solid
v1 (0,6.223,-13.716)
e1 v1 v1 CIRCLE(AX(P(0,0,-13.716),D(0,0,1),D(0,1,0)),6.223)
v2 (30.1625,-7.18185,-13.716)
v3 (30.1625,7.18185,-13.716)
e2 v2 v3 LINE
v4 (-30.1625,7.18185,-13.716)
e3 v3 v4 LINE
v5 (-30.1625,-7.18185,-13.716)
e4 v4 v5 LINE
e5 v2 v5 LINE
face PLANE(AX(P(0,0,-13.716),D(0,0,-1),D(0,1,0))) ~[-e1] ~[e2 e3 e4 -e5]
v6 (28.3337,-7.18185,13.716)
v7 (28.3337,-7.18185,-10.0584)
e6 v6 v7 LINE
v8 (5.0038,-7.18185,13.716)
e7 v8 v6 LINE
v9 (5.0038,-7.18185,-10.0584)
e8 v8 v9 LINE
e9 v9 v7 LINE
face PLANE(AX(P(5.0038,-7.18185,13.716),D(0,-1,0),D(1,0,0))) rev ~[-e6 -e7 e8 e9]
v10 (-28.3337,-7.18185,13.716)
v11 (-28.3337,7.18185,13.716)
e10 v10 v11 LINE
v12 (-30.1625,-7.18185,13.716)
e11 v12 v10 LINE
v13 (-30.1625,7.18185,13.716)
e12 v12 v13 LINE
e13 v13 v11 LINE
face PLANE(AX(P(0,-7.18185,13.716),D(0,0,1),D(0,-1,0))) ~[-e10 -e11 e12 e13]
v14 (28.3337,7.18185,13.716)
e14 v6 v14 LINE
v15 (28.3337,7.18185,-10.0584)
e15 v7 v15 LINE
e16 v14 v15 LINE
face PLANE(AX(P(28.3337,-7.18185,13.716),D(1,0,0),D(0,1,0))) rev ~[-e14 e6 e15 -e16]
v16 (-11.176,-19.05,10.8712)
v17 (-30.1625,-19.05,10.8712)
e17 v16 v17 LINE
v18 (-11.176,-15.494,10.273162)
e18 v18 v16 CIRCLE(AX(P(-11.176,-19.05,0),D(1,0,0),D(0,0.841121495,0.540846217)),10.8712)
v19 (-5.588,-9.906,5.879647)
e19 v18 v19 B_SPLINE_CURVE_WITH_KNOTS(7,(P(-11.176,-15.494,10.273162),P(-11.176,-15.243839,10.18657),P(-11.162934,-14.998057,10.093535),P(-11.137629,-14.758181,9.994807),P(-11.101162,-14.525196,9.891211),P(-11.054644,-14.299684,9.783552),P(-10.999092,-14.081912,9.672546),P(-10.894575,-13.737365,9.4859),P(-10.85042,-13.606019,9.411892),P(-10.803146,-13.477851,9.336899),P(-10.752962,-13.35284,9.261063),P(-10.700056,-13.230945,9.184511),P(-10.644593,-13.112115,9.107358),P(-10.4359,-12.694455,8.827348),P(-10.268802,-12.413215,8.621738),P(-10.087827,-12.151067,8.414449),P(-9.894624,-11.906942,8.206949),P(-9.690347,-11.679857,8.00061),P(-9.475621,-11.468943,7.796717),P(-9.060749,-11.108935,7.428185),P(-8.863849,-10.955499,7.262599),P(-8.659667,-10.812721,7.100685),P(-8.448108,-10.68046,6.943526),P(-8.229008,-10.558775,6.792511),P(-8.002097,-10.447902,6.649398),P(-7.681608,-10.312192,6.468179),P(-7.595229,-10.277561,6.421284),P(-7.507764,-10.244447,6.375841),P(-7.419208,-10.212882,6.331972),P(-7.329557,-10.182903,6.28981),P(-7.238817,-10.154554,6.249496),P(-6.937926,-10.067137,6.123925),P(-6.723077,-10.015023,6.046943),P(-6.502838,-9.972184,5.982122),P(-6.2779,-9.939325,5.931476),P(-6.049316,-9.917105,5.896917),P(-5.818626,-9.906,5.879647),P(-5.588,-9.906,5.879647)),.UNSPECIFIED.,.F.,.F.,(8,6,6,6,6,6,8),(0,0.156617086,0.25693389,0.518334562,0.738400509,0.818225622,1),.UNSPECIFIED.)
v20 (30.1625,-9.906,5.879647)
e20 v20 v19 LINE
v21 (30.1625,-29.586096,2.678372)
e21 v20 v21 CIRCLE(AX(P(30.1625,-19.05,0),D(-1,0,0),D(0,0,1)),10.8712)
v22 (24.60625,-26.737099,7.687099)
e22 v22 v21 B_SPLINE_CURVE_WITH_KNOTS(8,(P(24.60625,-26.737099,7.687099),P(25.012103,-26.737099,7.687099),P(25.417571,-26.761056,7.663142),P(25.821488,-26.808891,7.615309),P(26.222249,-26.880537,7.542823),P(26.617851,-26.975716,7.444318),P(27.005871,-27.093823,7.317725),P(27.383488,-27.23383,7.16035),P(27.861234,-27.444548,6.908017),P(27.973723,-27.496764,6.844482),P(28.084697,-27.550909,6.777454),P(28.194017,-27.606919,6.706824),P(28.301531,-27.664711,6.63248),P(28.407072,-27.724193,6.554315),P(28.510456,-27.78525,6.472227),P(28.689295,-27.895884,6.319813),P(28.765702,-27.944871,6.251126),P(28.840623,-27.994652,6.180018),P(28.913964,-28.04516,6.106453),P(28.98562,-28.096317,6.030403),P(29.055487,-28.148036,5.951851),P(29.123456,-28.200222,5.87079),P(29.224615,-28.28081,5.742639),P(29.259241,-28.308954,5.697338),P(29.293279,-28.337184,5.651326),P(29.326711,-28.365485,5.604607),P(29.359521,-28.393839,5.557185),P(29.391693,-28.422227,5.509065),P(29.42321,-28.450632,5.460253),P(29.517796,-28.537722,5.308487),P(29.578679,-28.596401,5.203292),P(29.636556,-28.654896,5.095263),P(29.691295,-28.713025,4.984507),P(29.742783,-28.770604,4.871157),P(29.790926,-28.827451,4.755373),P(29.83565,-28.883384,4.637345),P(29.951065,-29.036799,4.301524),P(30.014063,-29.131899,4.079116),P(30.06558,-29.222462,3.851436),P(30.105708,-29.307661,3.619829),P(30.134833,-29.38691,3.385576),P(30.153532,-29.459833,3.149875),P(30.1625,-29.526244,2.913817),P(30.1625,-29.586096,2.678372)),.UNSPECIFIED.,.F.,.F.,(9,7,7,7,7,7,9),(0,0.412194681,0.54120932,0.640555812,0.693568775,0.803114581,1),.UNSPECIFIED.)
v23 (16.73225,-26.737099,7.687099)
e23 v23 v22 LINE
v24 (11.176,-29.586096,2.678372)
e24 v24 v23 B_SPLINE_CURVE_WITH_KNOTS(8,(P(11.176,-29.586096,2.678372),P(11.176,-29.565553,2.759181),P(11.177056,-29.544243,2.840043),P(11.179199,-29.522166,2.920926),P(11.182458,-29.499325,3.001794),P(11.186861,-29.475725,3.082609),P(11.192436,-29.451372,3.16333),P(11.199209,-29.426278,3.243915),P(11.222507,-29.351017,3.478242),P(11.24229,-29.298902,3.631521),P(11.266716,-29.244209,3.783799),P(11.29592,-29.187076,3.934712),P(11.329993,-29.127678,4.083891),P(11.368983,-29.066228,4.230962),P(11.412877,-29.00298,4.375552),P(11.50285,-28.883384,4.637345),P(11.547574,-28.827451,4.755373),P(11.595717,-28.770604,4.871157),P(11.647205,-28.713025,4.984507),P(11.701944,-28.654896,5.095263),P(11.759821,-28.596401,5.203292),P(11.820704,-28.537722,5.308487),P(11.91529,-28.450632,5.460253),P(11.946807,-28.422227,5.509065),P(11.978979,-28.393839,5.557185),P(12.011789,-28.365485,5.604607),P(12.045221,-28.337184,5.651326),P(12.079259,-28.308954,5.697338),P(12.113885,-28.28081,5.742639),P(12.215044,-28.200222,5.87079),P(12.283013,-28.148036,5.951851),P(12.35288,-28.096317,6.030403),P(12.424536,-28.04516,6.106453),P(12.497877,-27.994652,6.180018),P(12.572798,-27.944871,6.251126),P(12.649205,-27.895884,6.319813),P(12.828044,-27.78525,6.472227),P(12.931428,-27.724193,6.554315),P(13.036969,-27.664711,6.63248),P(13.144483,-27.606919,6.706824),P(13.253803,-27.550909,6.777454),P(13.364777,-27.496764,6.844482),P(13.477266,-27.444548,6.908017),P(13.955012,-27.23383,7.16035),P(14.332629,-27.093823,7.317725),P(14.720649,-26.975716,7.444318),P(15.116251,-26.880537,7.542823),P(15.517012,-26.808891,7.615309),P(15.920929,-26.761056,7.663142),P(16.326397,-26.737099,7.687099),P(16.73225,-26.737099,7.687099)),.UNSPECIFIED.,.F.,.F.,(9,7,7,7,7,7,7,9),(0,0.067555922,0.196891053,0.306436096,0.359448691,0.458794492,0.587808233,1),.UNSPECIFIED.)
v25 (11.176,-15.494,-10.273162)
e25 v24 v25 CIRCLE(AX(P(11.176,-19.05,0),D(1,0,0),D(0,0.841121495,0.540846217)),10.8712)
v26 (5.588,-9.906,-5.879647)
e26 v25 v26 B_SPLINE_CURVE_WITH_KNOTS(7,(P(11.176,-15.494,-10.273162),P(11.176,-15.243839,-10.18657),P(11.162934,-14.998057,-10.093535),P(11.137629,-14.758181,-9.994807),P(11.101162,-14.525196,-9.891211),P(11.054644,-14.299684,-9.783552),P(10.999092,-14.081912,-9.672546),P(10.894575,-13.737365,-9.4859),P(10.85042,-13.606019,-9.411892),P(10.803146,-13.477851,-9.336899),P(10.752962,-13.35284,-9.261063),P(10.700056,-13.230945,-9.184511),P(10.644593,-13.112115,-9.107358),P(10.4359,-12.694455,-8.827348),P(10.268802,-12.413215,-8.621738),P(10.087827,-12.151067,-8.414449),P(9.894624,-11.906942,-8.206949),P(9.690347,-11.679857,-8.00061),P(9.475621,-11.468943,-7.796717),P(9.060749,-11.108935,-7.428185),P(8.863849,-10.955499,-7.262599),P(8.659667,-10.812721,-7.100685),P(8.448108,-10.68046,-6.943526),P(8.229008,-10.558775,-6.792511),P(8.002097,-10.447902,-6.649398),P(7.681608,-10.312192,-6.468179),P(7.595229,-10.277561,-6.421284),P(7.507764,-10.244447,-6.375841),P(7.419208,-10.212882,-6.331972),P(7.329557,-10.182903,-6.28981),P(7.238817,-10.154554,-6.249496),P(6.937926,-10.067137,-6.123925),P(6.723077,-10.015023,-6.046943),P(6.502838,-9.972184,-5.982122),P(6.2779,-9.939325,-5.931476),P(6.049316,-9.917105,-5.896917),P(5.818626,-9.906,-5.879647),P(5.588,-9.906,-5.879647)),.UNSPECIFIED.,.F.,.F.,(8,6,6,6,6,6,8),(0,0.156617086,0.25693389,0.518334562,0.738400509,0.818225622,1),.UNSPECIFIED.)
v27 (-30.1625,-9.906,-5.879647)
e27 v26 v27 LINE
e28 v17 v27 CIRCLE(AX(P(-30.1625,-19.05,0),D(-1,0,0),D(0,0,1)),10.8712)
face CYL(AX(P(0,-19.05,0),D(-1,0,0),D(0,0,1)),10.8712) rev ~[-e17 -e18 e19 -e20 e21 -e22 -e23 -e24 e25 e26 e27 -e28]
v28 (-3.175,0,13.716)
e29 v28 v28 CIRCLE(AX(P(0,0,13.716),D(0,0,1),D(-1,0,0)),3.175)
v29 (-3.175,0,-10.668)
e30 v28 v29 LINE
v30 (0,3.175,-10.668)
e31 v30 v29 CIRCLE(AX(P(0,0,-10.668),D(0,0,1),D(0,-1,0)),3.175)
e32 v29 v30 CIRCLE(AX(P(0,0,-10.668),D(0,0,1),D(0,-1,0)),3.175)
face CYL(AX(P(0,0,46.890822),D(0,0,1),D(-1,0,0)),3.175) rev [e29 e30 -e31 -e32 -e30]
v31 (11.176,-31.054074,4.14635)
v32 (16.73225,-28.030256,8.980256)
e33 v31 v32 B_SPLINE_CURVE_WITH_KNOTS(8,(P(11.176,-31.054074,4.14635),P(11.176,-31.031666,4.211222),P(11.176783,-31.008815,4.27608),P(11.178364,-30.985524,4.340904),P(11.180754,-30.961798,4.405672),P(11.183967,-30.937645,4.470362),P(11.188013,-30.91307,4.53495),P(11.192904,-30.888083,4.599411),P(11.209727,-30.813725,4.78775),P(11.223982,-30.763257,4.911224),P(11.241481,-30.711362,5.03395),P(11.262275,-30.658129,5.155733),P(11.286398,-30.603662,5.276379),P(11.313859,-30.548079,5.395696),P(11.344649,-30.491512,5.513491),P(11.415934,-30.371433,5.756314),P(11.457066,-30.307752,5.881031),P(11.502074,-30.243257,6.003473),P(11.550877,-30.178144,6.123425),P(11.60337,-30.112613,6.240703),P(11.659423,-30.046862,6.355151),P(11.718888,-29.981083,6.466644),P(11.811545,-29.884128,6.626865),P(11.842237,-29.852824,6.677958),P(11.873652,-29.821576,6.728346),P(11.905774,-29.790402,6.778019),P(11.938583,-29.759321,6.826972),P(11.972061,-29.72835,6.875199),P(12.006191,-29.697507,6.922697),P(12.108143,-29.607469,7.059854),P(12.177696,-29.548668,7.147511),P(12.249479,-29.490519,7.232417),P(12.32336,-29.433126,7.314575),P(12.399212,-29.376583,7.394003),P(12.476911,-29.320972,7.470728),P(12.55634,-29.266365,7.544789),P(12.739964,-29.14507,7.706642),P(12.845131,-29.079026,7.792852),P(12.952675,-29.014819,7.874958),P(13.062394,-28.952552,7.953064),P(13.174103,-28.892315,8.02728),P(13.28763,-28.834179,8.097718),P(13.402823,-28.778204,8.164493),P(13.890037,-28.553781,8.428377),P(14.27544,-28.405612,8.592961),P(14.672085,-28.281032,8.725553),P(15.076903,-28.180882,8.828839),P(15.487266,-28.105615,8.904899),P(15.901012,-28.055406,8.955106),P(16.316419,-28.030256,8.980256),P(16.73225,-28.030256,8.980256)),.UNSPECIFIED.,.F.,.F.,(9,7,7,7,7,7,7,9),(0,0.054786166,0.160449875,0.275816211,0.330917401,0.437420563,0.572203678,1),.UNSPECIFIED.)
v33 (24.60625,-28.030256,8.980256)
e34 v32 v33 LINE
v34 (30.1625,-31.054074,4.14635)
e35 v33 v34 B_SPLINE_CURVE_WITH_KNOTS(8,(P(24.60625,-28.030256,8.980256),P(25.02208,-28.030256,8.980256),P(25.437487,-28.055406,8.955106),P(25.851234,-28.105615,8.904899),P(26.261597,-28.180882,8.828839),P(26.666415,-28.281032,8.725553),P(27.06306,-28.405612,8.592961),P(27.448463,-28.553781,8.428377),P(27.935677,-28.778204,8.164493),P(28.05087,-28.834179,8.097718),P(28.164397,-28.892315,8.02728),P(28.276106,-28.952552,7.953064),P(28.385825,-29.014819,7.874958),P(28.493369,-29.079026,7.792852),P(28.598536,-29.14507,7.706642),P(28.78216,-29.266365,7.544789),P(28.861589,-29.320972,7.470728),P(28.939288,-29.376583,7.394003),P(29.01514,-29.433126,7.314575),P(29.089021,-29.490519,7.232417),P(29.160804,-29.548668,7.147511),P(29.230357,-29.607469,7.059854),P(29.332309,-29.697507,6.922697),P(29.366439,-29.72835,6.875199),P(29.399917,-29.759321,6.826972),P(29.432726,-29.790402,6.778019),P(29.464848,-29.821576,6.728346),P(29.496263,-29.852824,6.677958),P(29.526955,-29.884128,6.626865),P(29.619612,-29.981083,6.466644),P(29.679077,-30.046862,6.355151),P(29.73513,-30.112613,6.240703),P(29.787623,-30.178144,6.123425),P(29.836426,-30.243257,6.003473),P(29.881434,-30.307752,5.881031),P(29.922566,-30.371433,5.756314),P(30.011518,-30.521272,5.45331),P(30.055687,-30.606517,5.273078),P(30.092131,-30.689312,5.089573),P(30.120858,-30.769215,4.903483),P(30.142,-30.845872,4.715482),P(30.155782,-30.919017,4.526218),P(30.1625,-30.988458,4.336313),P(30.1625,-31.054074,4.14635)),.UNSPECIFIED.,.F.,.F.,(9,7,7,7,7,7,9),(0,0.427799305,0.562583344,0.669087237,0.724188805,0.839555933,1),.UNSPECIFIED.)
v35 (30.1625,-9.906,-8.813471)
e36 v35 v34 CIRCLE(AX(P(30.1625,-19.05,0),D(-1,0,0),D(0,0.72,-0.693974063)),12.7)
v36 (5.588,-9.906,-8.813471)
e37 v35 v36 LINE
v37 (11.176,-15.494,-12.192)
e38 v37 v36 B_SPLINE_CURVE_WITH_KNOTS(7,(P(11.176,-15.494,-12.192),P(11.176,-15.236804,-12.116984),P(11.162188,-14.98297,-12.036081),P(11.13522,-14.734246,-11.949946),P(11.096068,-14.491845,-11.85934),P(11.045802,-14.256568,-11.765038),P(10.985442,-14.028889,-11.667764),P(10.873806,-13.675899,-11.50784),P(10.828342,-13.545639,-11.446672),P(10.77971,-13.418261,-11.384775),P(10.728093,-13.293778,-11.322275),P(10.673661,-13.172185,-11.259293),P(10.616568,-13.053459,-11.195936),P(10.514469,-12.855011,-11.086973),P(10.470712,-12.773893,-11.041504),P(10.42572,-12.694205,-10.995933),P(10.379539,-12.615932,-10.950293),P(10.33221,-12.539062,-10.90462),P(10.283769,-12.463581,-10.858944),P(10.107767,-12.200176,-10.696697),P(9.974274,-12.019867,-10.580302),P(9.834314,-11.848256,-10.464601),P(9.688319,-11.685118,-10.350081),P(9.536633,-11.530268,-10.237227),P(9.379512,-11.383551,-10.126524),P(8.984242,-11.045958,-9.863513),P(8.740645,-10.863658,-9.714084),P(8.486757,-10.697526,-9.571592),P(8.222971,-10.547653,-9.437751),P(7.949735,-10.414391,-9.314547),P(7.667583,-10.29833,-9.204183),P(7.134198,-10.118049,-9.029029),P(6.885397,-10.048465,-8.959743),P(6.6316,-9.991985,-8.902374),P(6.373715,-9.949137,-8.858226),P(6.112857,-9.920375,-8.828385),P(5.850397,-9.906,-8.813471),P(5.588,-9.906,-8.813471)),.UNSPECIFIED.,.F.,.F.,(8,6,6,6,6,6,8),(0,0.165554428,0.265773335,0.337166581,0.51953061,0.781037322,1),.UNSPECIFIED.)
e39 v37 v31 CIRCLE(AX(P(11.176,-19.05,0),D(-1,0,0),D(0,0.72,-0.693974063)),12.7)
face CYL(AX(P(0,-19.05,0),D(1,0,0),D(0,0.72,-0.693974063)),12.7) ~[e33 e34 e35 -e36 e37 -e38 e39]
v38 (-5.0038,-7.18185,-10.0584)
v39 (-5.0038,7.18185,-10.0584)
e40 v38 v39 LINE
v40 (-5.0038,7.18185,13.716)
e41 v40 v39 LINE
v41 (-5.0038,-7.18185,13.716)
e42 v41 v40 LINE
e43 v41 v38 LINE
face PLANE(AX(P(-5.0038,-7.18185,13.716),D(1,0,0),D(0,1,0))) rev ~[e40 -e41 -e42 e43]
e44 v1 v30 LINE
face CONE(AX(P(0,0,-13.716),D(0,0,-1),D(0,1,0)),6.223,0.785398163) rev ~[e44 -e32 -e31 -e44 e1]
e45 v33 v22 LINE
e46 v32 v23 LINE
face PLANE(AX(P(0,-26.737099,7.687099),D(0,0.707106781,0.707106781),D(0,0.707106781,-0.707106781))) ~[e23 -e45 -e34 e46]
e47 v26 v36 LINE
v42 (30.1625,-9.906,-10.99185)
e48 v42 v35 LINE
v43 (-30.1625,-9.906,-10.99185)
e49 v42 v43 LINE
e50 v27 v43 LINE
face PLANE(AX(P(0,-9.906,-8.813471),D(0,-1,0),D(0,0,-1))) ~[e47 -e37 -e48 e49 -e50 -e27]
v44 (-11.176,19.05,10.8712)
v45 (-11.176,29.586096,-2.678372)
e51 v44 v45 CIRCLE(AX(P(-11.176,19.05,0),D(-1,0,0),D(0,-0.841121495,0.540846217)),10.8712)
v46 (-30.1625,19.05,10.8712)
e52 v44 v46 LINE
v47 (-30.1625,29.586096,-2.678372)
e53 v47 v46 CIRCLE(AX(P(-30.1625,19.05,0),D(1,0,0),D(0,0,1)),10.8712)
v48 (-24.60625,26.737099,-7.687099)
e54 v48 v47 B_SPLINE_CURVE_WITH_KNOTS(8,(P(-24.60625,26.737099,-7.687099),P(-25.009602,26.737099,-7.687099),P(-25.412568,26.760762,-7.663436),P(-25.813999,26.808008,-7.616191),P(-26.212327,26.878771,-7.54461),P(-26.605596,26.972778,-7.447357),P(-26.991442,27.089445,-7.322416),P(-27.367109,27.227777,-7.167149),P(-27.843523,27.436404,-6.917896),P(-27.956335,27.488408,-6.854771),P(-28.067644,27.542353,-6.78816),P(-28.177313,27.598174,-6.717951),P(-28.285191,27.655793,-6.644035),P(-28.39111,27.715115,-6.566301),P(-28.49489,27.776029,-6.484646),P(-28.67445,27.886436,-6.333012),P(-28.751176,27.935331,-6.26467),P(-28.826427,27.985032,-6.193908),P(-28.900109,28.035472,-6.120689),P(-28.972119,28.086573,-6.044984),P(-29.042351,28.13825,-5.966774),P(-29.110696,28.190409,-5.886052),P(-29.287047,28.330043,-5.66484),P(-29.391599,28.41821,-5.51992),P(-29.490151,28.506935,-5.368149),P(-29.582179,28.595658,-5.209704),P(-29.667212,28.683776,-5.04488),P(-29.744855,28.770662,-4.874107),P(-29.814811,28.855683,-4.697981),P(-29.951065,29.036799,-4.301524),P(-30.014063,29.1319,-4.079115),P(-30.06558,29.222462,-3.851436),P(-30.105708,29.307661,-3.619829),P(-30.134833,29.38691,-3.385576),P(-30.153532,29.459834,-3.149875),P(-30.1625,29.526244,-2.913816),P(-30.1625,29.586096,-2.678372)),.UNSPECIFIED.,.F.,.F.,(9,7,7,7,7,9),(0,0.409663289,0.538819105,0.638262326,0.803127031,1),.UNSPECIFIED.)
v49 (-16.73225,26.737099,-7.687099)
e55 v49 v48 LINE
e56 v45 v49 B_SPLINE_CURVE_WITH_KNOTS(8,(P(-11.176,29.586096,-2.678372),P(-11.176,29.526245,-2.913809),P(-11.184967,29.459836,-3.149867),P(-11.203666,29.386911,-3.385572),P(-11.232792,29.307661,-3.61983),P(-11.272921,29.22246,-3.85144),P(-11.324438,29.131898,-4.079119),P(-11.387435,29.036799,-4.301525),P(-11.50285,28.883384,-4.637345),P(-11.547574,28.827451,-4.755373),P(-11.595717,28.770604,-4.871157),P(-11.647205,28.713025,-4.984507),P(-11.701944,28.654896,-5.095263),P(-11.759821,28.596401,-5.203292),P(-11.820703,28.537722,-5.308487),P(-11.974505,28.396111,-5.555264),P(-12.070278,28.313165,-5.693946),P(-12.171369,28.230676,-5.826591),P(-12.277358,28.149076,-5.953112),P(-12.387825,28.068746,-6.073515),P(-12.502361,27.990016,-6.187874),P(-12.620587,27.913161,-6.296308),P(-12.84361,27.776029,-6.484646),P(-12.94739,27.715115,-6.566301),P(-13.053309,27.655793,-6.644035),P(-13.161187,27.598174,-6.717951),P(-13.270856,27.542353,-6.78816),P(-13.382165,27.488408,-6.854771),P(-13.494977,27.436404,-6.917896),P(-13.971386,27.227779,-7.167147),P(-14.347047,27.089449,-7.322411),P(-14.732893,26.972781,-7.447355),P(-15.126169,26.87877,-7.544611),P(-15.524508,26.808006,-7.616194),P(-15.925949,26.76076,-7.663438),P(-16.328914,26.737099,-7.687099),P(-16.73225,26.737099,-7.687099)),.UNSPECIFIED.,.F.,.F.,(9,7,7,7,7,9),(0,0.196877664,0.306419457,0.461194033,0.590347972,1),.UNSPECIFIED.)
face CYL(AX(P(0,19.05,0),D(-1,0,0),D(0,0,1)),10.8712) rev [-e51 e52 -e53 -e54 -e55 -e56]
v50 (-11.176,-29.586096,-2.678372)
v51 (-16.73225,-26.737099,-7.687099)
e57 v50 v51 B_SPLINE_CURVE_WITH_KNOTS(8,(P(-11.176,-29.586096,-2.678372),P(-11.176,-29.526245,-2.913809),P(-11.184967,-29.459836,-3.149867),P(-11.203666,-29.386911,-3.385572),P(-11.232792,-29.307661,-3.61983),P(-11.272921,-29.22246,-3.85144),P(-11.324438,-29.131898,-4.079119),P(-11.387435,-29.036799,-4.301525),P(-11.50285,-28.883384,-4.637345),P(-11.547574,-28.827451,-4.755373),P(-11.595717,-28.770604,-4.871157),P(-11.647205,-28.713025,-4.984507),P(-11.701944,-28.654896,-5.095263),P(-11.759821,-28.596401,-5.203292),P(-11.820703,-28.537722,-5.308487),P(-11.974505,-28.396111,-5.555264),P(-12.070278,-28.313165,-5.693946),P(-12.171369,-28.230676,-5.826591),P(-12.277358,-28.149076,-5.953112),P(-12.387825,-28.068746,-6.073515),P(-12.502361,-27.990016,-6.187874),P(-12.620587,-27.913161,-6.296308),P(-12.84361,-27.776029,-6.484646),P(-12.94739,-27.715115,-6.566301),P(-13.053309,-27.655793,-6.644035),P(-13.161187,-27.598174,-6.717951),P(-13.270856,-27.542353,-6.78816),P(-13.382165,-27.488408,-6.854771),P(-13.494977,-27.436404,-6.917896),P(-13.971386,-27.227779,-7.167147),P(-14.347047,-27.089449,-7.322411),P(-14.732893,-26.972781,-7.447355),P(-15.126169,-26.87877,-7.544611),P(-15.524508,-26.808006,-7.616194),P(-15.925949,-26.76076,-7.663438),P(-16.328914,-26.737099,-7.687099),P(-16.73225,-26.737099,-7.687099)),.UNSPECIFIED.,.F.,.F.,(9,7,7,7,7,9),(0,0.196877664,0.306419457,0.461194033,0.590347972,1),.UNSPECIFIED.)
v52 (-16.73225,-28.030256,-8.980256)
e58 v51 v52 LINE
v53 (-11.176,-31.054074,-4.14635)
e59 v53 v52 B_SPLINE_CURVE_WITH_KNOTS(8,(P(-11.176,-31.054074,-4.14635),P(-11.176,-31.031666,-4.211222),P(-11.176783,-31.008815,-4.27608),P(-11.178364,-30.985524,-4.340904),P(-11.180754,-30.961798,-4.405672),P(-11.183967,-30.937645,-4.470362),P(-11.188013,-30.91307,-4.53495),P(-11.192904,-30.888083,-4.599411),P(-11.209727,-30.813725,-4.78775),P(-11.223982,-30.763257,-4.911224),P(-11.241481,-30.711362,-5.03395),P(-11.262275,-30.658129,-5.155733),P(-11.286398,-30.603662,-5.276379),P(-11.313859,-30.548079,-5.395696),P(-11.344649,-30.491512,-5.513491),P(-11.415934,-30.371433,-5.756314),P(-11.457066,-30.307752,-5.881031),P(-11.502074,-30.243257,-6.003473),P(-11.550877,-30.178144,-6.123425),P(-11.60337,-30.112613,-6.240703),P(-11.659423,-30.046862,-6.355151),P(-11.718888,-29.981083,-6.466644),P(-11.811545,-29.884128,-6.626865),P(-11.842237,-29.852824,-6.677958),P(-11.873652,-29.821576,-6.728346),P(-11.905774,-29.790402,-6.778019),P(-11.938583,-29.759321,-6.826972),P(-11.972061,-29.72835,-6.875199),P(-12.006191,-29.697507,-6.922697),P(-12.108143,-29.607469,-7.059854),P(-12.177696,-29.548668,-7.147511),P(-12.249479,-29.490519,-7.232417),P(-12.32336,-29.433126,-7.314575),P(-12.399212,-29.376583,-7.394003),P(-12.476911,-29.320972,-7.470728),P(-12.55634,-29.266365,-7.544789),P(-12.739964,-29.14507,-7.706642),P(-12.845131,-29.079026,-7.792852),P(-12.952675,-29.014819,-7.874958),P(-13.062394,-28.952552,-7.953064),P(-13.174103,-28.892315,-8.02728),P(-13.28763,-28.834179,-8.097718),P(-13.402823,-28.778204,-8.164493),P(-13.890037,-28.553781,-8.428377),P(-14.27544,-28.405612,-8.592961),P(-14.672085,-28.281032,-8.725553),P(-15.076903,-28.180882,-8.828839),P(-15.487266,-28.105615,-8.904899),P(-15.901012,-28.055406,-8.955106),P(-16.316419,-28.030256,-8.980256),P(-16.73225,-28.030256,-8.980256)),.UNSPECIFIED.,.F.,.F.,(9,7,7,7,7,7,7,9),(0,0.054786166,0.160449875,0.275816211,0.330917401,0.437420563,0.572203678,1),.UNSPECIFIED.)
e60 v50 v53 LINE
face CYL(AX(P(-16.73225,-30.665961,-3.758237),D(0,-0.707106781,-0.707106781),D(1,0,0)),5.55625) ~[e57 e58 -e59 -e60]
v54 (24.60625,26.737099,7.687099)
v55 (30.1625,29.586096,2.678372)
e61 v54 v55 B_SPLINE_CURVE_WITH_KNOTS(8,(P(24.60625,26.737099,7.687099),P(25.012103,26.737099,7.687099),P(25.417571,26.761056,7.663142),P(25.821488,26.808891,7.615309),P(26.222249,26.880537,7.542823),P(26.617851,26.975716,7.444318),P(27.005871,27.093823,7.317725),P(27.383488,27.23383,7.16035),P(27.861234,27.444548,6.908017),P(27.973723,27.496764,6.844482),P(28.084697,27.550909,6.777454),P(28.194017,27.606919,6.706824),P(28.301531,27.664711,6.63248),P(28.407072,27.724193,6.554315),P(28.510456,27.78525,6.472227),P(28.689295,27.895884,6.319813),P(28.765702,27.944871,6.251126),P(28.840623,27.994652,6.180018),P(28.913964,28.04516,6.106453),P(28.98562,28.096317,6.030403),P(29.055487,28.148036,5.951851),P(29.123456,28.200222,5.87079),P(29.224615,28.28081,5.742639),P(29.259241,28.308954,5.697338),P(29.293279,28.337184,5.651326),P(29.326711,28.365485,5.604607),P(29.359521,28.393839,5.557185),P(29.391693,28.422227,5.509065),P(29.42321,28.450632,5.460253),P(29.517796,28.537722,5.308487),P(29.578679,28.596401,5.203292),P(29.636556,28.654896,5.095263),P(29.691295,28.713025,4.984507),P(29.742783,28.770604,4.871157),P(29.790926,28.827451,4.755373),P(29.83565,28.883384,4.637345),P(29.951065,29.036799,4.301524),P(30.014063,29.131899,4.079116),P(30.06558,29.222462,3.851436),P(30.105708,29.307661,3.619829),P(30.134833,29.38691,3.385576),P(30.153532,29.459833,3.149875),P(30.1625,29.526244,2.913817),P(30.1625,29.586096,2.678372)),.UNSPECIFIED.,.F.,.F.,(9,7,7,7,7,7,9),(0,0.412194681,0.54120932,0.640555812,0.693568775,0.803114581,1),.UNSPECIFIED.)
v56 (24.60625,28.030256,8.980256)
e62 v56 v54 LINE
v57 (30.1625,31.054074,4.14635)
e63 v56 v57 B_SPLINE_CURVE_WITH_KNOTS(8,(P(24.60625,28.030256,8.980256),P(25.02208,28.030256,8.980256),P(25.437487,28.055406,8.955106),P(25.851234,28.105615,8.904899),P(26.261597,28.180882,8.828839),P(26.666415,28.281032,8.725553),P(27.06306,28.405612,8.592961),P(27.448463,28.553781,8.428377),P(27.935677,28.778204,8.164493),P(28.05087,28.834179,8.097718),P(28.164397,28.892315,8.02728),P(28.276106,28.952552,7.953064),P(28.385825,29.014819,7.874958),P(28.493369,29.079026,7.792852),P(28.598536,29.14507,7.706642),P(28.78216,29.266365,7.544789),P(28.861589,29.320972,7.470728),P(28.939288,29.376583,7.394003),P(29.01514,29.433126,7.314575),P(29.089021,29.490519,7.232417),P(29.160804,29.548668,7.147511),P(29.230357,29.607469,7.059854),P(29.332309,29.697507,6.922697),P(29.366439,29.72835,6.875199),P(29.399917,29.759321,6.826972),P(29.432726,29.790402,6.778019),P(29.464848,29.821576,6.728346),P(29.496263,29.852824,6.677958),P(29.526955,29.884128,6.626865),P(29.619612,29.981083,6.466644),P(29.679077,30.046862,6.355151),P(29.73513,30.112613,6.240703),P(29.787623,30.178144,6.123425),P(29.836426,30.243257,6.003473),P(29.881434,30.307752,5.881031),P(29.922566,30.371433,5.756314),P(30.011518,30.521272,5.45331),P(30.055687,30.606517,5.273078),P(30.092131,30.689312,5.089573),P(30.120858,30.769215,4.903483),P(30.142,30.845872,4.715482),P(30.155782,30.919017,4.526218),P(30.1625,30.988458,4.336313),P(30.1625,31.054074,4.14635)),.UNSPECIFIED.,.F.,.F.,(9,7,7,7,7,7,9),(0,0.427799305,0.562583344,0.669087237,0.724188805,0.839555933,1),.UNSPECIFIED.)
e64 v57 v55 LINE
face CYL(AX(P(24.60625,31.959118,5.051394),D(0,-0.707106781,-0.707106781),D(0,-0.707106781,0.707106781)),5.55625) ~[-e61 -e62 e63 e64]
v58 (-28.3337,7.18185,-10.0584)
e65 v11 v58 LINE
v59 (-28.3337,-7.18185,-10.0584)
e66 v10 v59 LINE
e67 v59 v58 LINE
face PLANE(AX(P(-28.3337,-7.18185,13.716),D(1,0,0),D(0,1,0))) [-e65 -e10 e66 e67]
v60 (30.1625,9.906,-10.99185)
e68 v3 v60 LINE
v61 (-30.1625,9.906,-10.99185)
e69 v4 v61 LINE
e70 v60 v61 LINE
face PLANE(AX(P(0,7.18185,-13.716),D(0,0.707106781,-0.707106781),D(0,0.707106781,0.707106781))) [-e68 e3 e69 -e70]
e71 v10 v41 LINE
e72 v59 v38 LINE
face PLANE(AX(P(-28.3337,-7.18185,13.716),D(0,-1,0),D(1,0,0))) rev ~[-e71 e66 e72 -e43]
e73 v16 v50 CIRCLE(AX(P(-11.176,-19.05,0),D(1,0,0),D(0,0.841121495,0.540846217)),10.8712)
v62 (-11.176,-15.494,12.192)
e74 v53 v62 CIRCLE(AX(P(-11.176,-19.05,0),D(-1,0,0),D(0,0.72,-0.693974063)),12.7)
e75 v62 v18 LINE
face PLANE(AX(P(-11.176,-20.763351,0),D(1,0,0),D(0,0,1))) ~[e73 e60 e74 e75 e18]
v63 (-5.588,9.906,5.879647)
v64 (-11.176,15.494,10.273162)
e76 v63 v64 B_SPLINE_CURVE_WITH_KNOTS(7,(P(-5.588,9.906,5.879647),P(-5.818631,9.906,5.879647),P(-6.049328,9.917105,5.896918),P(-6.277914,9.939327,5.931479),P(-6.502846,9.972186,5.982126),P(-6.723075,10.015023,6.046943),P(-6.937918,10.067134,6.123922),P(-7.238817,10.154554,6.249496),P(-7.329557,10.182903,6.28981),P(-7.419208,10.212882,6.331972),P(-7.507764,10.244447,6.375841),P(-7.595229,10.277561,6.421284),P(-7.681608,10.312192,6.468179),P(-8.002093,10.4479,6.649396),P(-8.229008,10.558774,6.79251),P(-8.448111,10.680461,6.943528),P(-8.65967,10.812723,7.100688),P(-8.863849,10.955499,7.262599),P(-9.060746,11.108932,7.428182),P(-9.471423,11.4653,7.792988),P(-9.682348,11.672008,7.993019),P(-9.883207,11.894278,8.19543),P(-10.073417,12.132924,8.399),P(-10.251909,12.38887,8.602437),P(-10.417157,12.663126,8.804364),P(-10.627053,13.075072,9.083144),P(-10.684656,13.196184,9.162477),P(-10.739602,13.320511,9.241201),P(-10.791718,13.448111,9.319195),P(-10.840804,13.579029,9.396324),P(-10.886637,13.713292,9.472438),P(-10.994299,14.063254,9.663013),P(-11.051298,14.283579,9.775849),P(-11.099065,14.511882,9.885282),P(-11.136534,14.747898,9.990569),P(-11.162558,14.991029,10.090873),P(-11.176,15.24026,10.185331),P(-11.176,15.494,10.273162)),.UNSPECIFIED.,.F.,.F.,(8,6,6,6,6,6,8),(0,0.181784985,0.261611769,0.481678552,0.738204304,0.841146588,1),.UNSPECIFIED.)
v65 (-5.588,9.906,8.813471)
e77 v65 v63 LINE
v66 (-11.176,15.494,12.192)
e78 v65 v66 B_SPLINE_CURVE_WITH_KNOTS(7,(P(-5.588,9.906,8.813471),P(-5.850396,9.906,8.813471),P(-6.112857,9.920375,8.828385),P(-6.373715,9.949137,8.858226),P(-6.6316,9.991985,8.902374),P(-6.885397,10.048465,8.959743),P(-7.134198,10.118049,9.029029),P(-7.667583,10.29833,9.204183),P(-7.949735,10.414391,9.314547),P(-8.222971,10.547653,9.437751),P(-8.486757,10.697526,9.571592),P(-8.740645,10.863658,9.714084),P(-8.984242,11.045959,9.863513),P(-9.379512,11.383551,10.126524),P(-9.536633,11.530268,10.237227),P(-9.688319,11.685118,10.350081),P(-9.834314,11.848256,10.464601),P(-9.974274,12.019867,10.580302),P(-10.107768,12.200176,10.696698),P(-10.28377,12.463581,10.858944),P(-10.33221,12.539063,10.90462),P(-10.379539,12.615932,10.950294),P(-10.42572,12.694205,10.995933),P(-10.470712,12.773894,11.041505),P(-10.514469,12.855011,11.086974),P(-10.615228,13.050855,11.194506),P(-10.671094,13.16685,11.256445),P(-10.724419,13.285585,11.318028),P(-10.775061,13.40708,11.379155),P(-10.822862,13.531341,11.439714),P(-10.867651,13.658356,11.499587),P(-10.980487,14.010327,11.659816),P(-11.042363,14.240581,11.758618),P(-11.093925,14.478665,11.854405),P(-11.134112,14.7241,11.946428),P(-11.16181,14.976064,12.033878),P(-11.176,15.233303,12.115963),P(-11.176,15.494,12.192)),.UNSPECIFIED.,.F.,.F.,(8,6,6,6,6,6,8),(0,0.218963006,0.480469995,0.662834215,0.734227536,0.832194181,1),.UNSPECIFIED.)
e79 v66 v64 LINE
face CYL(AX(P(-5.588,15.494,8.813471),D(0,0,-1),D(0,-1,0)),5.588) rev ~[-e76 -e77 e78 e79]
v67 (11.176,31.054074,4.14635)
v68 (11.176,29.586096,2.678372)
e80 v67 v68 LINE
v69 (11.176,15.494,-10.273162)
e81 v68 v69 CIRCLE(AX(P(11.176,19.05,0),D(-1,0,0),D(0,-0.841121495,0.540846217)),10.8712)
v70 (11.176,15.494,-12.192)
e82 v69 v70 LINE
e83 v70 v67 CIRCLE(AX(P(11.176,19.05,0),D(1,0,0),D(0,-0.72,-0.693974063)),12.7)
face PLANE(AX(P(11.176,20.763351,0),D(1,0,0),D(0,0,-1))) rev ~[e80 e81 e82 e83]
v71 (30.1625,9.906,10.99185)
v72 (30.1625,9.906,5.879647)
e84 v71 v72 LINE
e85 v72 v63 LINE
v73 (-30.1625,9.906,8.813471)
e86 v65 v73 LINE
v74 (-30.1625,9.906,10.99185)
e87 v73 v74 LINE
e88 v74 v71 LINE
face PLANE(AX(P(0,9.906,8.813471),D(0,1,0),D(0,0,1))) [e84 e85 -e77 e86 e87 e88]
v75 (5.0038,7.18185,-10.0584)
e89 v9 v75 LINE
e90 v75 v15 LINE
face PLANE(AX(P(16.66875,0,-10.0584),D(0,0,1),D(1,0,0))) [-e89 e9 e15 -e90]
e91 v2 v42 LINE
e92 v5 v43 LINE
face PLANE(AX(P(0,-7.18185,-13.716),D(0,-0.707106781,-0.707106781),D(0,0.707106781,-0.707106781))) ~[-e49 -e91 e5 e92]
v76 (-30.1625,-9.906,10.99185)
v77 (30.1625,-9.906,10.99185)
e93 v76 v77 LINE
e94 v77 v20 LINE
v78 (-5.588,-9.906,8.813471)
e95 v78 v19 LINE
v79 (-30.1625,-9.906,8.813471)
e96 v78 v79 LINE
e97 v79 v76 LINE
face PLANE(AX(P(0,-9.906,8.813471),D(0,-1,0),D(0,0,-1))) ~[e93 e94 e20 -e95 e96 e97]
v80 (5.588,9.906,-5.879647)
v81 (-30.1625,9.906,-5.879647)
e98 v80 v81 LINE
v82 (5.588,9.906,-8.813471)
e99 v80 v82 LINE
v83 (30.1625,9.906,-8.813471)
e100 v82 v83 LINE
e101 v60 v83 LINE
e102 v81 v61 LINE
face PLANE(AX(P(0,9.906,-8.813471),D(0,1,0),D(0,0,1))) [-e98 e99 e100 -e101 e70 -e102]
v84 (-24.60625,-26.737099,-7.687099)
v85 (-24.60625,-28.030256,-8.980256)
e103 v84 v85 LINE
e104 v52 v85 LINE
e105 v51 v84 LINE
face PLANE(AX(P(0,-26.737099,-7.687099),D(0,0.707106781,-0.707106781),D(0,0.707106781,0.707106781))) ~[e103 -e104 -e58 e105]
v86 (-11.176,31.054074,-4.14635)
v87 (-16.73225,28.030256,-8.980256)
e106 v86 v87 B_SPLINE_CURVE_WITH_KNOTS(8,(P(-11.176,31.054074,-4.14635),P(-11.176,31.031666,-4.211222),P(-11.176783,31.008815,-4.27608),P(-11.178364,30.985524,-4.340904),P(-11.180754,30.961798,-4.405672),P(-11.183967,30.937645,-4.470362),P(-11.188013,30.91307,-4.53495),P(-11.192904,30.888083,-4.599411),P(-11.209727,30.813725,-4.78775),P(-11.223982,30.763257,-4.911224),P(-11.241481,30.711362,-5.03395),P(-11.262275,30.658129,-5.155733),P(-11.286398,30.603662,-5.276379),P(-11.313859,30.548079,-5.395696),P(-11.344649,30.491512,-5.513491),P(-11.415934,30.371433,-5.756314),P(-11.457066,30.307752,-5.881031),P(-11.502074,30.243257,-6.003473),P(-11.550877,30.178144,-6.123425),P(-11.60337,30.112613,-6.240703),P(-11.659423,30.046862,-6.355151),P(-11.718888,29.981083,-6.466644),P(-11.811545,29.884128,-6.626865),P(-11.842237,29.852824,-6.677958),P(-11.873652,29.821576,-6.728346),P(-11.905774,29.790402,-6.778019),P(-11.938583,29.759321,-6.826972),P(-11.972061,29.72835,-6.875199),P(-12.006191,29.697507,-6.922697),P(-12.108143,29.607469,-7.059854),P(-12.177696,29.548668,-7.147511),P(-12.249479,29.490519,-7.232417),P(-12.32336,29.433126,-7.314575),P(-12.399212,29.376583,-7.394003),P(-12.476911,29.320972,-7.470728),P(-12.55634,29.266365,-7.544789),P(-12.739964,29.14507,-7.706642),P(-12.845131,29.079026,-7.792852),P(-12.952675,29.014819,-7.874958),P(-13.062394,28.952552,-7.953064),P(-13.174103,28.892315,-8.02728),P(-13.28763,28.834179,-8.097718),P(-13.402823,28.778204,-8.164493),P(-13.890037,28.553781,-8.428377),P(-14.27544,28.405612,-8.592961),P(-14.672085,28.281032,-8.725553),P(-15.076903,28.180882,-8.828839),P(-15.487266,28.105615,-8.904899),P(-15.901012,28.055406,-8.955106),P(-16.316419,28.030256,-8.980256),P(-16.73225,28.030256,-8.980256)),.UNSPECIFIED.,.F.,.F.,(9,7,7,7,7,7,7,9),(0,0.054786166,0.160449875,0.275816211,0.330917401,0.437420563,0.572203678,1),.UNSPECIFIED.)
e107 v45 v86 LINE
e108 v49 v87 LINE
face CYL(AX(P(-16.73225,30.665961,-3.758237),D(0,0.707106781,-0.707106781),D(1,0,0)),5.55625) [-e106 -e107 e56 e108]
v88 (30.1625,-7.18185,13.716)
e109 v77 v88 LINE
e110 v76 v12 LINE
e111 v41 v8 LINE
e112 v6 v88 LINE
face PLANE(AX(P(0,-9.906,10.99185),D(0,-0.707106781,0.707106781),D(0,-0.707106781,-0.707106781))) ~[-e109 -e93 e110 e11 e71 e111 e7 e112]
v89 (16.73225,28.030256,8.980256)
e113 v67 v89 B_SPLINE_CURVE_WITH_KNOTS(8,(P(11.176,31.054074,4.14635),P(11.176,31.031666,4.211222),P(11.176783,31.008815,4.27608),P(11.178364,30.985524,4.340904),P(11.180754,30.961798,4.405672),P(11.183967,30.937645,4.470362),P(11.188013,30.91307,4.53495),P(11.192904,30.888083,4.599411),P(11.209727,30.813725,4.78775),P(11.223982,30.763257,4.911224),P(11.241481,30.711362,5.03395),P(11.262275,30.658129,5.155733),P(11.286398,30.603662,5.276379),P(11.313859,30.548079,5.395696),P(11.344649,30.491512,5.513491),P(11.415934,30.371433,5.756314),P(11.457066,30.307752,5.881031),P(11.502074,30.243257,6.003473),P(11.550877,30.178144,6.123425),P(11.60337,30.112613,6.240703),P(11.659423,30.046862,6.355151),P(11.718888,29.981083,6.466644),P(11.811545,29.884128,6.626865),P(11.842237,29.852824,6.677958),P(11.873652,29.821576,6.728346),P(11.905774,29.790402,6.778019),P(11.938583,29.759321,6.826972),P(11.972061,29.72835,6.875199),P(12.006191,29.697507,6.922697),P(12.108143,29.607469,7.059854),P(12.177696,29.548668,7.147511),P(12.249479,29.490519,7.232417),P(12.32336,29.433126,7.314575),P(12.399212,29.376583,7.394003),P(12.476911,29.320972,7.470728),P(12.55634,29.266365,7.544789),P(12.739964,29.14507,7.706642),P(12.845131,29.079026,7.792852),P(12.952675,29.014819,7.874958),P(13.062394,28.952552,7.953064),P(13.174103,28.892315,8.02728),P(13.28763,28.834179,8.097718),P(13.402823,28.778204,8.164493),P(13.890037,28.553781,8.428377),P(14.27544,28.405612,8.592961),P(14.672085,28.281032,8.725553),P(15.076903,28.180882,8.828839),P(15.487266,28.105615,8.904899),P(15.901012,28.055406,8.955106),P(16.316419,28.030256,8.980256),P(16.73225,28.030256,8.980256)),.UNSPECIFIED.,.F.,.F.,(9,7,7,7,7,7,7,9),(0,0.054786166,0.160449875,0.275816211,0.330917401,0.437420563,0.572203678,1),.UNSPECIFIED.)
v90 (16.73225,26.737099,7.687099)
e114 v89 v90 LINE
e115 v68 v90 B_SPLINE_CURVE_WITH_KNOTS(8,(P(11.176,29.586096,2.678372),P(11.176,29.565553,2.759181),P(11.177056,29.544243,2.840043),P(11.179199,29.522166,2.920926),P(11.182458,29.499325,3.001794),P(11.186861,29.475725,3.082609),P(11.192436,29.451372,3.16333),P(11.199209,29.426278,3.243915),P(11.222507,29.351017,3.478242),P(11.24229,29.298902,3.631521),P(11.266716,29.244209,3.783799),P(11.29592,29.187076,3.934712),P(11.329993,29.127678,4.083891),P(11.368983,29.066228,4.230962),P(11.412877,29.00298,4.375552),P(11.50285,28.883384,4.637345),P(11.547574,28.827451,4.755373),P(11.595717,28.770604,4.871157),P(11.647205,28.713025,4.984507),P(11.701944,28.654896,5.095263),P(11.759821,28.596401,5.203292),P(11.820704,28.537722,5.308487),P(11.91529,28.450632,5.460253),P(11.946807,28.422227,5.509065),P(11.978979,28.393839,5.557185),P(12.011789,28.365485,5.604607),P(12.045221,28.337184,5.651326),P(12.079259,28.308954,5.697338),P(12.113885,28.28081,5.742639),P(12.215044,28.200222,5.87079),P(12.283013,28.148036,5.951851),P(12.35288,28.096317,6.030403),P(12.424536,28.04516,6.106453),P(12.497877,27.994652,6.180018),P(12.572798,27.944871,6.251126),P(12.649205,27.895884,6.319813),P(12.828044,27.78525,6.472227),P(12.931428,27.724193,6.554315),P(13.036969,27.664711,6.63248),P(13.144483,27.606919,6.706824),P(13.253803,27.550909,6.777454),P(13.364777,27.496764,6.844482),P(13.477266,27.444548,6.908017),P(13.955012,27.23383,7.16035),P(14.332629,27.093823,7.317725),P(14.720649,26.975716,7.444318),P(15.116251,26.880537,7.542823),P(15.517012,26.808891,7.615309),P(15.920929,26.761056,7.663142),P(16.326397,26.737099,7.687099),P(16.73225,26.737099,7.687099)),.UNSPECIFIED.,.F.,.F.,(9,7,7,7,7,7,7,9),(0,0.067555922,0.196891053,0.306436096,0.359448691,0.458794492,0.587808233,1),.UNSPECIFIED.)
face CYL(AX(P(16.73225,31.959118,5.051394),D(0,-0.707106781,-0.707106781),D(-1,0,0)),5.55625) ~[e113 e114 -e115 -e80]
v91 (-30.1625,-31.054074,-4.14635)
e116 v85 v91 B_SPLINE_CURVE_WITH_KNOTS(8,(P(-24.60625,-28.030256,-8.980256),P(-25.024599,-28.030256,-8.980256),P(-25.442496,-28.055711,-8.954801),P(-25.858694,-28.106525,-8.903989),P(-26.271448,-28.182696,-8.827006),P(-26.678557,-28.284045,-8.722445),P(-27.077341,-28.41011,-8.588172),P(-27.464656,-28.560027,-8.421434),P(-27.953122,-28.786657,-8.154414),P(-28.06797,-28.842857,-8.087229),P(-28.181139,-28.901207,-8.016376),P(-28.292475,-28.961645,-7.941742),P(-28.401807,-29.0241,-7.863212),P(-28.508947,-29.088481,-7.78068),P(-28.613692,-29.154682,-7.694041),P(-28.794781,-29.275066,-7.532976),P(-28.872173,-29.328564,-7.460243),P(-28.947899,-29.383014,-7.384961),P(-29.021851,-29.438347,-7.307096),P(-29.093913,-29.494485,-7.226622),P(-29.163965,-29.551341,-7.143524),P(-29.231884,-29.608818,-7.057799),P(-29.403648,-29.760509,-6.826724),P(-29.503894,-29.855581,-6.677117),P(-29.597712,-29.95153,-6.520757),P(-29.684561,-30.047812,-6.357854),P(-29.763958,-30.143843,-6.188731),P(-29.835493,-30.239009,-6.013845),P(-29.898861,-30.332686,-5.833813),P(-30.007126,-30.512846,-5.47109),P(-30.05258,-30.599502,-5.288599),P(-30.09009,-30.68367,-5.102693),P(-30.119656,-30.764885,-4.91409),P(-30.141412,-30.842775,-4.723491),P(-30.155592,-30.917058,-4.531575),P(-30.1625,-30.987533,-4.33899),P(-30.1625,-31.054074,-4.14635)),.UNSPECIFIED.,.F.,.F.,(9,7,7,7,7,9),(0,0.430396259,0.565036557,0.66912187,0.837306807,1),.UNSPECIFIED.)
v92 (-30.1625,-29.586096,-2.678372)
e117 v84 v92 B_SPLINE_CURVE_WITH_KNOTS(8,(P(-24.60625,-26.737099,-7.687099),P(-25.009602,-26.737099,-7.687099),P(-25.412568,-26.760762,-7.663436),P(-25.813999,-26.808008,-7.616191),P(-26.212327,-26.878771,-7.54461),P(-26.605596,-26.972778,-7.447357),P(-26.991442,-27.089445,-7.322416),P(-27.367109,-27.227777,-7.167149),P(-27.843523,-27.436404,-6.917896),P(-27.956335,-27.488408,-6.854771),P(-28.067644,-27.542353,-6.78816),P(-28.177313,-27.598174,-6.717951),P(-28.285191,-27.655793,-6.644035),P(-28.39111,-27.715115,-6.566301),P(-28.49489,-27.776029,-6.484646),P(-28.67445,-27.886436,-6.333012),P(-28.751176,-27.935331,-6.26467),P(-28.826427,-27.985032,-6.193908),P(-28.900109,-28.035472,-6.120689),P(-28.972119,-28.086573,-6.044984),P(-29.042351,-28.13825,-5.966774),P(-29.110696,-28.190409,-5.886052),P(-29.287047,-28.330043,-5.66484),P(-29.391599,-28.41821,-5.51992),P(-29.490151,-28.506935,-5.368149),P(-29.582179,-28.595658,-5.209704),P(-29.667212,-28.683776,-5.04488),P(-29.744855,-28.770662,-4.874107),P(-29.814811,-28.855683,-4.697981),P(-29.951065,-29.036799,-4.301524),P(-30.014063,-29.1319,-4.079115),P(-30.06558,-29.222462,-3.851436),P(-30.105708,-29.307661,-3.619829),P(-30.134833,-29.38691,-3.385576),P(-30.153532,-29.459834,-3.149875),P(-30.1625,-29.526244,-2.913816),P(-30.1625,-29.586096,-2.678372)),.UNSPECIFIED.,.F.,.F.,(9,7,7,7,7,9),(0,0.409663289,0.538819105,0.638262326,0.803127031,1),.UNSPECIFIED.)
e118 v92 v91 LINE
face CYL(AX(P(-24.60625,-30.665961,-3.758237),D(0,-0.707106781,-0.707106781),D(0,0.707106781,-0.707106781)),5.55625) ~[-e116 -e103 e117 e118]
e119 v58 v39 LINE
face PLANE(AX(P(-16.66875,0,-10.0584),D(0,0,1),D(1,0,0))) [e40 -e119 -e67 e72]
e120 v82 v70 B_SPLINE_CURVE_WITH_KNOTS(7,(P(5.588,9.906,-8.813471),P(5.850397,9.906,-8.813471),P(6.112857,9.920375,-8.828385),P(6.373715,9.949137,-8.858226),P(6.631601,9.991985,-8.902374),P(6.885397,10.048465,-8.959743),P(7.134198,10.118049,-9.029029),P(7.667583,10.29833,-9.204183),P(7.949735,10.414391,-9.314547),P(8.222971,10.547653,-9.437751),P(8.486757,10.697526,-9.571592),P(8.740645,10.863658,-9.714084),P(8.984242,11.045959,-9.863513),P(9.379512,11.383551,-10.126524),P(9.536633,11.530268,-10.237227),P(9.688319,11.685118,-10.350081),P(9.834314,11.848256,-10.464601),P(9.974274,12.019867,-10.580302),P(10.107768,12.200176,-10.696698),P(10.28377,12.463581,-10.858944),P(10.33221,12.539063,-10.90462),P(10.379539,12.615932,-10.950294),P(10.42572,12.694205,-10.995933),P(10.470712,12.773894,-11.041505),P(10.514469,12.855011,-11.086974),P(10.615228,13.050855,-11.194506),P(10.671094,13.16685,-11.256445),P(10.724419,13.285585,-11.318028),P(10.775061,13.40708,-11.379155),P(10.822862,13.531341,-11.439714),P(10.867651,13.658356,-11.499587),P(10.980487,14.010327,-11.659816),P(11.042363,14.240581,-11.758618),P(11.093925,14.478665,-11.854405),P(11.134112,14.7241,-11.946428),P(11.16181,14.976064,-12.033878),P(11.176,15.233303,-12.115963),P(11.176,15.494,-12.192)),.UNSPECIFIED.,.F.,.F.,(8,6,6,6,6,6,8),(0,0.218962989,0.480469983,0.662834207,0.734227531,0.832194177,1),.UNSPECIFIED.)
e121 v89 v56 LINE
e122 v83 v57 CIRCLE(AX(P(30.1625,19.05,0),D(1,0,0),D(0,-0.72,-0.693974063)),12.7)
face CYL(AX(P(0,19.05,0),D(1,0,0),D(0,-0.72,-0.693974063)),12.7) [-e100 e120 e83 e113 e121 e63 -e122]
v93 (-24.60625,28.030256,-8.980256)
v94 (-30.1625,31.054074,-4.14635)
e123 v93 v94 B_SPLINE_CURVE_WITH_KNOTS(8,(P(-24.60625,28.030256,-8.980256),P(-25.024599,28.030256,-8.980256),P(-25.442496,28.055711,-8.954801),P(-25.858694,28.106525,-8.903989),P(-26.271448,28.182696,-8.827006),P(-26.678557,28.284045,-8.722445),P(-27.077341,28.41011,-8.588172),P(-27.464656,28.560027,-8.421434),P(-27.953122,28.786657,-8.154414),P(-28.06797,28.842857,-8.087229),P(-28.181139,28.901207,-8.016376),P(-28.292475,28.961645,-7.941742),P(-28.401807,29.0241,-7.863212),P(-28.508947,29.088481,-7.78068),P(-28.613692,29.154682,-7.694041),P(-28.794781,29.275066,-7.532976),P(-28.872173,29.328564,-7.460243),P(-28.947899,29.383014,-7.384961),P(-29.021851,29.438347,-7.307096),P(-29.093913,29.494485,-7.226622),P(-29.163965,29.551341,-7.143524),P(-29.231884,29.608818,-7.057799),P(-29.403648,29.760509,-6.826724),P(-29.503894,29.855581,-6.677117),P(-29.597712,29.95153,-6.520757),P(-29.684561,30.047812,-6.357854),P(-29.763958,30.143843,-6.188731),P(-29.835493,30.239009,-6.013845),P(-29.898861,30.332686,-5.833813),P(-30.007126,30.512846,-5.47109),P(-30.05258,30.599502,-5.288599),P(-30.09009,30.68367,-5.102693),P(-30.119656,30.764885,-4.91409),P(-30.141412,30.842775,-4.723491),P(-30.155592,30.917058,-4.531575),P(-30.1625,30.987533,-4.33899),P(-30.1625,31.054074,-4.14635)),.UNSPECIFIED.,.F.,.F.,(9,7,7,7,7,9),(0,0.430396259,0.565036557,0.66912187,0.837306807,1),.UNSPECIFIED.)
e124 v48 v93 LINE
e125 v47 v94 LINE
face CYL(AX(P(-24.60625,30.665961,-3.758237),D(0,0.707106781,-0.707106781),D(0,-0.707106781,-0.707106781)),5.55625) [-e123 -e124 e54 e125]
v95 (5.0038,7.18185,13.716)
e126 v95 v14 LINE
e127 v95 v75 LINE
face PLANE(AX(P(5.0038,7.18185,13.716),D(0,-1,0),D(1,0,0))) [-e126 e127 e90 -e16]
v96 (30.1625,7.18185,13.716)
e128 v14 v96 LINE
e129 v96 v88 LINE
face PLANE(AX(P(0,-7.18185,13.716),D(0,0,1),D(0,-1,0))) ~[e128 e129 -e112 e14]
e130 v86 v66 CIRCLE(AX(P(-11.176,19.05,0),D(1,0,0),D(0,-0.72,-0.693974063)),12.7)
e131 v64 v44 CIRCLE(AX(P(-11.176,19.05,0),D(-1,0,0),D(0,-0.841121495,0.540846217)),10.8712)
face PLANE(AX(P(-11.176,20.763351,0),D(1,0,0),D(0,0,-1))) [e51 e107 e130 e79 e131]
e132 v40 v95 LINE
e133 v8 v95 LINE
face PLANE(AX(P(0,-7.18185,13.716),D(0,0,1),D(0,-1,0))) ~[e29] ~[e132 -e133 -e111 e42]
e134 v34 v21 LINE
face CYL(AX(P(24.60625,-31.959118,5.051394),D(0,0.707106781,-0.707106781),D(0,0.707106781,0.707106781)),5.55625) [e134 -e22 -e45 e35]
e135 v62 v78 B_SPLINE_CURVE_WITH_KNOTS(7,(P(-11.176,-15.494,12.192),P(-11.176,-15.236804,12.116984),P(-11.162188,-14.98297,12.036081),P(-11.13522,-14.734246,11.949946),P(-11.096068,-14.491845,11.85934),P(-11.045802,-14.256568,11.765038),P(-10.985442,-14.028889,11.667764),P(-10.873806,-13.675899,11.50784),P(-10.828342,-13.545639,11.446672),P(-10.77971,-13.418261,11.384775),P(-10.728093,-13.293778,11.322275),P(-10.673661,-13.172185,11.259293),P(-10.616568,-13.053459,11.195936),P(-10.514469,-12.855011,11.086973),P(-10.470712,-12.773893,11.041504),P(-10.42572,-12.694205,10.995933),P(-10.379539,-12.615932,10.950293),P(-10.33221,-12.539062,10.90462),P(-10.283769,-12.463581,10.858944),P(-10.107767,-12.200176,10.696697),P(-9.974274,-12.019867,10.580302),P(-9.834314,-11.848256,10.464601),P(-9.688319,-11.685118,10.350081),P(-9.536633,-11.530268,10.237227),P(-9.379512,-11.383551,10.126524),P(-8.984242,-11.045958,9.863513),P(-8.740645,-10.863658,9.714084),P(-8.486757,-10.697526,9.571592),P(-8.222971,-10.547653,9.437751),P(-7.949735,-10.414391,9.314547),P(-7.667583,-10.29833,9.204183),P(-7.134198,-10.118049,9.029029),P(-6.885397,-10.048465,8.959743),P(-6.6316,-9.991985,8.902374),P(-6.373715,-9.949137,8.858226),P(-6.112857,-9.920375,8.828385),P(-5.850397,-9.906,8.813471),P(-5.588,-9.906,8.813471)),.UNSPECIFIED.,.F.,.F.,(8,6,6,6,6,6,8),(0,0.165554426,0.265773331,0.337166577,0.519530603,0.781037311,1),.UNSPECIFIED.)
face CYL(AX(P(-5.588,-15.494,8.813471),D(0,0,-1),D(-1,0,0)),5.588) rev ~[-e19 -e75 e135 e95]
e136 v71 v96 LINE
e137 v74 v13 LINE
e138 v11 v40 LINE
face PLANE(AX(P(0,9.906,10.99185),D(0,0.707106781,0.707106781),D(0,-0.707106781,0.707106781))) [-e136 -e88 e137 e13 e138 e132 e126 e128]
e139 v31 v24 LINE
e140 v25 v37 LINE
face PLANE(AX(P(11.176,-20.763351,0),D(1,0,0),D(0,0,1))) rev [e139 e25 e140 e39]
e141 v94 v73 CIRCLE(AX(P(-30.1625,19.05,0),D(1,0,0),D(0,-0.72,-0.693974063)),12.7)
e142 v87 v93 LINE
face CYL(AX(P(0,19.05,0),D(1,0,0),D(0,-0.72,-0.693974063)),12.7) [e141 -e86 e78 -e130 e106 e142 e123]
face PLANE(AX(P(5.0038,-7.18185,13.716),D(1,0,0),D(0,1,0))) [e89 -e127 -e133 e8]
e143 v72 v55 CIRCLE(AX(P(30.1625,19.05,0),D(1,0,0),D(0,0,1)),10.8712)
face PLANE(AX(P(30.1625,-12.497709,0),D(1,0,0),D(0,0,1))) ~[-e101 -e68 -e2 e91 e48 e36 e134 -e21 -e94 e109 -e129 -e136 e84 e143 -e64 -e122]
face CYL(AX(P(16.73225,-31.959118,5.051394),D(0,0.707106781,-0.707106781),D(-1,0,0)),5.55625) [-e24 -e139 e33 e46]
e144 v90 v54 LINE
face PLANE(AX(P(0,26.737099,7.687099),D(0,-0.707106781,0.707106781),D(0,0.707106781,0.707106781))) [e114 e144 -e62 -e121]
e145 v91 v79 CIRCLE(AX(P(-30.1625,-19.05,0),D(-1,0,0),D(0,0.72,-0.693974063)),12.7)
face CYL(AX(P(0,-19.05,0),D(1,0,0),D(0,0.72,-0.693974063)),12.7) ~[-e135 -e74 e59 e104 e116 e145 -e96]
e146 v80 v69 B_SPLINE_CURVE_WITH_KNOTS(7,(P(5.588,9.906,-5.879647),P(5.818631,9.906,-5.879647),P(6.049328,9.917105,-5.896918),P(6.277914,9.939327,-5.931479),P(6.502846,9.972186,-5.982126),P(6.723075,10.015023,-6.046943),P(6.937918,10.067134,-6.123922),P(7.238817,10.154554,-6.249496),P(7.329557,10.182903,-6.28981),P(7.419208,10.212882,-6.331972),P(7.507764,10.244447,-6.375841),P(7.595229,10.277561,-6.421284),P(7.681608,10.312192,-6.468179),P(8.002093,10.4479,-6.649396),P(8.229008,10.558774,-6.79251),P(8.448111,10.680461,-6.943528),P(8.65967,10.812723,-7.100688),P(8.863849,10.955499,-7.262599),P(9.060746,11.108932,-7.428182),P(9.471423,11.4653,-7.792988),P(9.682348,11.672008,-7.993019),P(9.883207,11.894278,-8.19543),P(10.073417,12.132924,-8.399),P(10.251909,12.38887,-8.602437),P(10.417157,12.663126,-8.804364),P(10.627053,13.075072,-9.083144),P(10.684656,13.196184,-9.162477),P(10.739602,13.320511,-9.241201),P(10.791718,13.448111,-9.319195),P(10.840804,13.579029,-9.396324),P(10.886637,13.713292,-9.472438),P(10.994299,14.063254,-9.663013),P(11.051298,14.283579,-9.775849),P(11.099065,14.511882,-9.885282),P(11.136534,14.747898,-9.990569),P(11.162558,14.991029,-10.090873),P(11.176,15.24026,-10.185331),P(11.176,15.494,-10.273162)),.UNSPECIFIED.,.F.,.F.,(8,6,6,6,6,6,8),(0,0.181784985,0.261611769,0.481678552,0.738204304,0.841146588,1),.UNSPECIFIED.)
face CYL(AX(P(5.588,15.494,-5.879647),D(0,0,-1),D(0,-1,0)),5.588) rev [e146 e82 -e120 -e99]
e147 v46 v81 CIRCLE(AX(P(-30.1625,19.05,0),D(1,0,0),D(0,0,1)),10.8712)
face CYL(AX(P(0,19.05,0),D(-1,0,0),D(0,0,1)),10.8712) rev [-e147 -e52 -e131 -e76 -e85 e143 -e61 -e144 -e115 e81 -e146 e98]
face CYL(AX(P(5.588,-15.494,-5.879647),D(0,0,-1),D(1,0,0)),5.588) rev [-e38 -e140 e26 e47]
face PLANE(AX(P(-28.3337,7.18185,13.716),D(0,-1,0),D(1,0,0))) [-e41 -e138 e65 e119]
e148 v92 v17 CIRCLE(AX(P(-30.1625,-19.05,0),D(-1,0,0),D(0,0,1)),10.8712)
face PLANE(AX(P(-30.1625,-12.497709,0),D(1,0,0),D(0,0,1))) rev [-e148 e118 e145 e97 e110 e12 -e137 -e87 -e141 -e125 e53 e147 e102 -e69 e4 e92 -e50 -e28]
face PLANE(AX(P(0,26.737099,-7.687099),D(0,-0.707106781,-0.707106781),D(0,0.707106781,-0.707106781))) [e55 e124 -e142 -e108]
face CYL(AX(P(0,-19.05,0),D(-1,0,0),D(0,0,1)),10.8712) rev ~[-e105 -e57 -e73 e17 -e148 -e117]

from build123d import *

# Parameters (mm, degrees)
SKETCH2_R               = 10.8712
BOSS_EXTRUDE2_DEPTH     = 30.1625
CUT_EXTRUDE1_DEPTH      = 11.176
CUT_EXTRUDE2_DEPTH      = 46.890822201
CIRPATTERN1_COUNT       = 2
FILLET1_R               = 5.55625
CUT_EXTRUDE3_DEPTH      = 46.890822336
CUT_EXTRUDE3_DEPTH_BACK = 46.890822336
SKETCH5_R               = 3.175
SKETCH7_W               = 23.3299
SKETCH7_H               = 14.3637
CUT_EXTRUDE5_DEPTH      = 23.7744
FILLET2_R               = 5.588


with BuildPart() as part:
    # Sketch2 → Boss-Extrude2 (new, symmetric)
    with BuildSketch(Plane(origin=(0, 0, 0), x_dir=(0, 0, -1), z_dir=(1, 0, 0))):
        with BuildLine():
            Line((-8.813470599, 9.906), (-10.99185, 9.906))
            Line((-10.99185, 9.906), (-13.716, 7.18185))
            Line((-13.716, 7.18185), (-13.716, 0))
            Line((-13.716, 0), (13.716, 0))
            Line((13.716, 0), (13.716, 7.18185))
            Line((13.716, 7.18185), (10.99185, 9.906))
            Line((10.99185, 9.906), (8.813470599, 9.906))
            ThreePointArc((8.813470599, 9.906), (0, 31.75), (-8.813470599, 9.906))
        make_face()
        with Locations(Location((0, 19.05, 0), (0, 0, 180))):
            Circle(SKETCH2_R, mode=Mode.SUBTRACT)
    extrude(amount=BOSS_EXTRUDE2_DEPTH, both=True)

    # Sketch3 → Cut-Extrude1 (cut, symmetric)
    with BuildSketch(Plane(origin=(0, 0, 0), x_dir=(0, 0, -1), z_dir=(1, 0, 0))):
        with BuildLine():
            Line((-8.813470599, 9.906), (-5.879647391, 9.906))
            ThreePointArc((-5.879647391, 9.906), (0, 29.9212), (5.879647391, 9.906))
            Line((5.879647391, 9.906), (8.813470599, 9.906))
            ThreePointArc((8.813470599, 9.906), (0, 31.75), (-8.813470599, 9.906))
        make_face()
    extrude(amount=CUT_EXTRUDE1_DEPTH, both=True, mode=Mode.SUBTRACT)

    # Sketch4 → Cut-Extrude2 (cut, through all)
    with BuildSketch(Plane(origin=(0, 0, 0), x_dir=(0, 0, -1), z_dir=(1, 0, 0))):
        with BuildLine():
            Line((-7.68709924, 26.73709924), (-8.980256121, 28.030256121))
            ThreePointArc((-8.980256121, 28.030256121), (-12.699462297, 18.933135262), (-8.813470599, 9.906))
            Line((-8.813470599, 9.906), (-5.879647391, 9.906))
            ThreePointArc((-5.879647391, 9.906), (-10.809053101, 17.889241411), (-7.68709924, 26.73709924))
        make_face()
    cut_extrude2 = extrude(amount=CUT_EXTRUDE2_DEPTH, mode=Mode.SUBTRACT)

    # CirPattern1: Cut-Extrude2 ×2 about axis
    cirpattern1_axis = Axis((0, 34.925, 0), (0, -1, 0))
    for i in range(1, CIRPATTERN1_COUNT):
        add(cut_extrude2.rotate(cirpattern1_axis, i * 360 / CIRPATTERN1_COUNT), mode=Mode.SUBTRACT)

    # Fillet1
    fillet1_edges = [part.edges().sort_by_distance(p)[0] for p in [
        (11.176, 27.38367768, 8.33367768),
        (30.1625, 27.38367768, 8.33367768),
        (-11.176, 27.38367768, -8.33367768),
        (-30.1625, 27.38367768, -8.33367768),
    ]]
    fillet(fillet1_edges, radius=FILLET1_R)

    # Mirror1: part across plane


with BuildPart() as part_1:
    add(part.part)
    add(part.part.mirror(Plane.ZX))

    # Sketch5 → Cut-Extrude3 (cut, two sides: drawn at the far end of the back side and taken through both)
    with BuildSketch(Plane(origin=(0, 0, 0), x_dir=(-1, 0, 0), z_dir=(0, 0, -1)).offset(-CUT_EXTRUDE3_DEPTH_BACK)):
        Circle(SKETCH5_R)
    extrude(amount=CUT_EXTRUDE3_DEPTH + CUT_EXTRUDE3_DEPTH_BACK, mode=Mode.SUBTRACT)

    # Cut-Extrude4 cone 1 section (through the dimple's axis) → Cut-Extrude4 (revolve, cut)
    with BuildSketch(Plane(origin=(0, 0, -13.716), x_dir=(0, 1, 0), z_dir=(1, 0, 0))):
        Polygon((0, 0), (6.223, 0), (0, 6.223), align=None)
    revolve(axis=Axis((0, 0, -13.716), (0, 0, 1)), mode=Mode.SUBTRACT)

    # Sketch7 → Cut-Extrude5 (cut)
    with BuildSketch(Plane.XY.offset(13.716)):
        with Locations((-16.66875, 0)):
            Rectangle(SKETCH7_W, SKETCH7_H)
        with Locations((16.66875, 0)):
            Rectangle(SKETCH7_W, SKETCH7_H)
    extrude(amount=-CUT_EXTRUDE5_DEPTH, mode=Mode.SUBTRACT)

    # Fillet2
    fillet2_edges = [part_1.edges().sort_by_distance(p)[0] for p in [
        (11.176, -9.906, -7.346558995),
        (-11.176, -9.906, 7.346558995),
        (-11.176, 9.906, 7.346558995),
        (11.176, 9.906, -7.346558995),
    ]]
    fillet(fillet2_edges, radius=FILLET2_R)


solid = part_1.part
